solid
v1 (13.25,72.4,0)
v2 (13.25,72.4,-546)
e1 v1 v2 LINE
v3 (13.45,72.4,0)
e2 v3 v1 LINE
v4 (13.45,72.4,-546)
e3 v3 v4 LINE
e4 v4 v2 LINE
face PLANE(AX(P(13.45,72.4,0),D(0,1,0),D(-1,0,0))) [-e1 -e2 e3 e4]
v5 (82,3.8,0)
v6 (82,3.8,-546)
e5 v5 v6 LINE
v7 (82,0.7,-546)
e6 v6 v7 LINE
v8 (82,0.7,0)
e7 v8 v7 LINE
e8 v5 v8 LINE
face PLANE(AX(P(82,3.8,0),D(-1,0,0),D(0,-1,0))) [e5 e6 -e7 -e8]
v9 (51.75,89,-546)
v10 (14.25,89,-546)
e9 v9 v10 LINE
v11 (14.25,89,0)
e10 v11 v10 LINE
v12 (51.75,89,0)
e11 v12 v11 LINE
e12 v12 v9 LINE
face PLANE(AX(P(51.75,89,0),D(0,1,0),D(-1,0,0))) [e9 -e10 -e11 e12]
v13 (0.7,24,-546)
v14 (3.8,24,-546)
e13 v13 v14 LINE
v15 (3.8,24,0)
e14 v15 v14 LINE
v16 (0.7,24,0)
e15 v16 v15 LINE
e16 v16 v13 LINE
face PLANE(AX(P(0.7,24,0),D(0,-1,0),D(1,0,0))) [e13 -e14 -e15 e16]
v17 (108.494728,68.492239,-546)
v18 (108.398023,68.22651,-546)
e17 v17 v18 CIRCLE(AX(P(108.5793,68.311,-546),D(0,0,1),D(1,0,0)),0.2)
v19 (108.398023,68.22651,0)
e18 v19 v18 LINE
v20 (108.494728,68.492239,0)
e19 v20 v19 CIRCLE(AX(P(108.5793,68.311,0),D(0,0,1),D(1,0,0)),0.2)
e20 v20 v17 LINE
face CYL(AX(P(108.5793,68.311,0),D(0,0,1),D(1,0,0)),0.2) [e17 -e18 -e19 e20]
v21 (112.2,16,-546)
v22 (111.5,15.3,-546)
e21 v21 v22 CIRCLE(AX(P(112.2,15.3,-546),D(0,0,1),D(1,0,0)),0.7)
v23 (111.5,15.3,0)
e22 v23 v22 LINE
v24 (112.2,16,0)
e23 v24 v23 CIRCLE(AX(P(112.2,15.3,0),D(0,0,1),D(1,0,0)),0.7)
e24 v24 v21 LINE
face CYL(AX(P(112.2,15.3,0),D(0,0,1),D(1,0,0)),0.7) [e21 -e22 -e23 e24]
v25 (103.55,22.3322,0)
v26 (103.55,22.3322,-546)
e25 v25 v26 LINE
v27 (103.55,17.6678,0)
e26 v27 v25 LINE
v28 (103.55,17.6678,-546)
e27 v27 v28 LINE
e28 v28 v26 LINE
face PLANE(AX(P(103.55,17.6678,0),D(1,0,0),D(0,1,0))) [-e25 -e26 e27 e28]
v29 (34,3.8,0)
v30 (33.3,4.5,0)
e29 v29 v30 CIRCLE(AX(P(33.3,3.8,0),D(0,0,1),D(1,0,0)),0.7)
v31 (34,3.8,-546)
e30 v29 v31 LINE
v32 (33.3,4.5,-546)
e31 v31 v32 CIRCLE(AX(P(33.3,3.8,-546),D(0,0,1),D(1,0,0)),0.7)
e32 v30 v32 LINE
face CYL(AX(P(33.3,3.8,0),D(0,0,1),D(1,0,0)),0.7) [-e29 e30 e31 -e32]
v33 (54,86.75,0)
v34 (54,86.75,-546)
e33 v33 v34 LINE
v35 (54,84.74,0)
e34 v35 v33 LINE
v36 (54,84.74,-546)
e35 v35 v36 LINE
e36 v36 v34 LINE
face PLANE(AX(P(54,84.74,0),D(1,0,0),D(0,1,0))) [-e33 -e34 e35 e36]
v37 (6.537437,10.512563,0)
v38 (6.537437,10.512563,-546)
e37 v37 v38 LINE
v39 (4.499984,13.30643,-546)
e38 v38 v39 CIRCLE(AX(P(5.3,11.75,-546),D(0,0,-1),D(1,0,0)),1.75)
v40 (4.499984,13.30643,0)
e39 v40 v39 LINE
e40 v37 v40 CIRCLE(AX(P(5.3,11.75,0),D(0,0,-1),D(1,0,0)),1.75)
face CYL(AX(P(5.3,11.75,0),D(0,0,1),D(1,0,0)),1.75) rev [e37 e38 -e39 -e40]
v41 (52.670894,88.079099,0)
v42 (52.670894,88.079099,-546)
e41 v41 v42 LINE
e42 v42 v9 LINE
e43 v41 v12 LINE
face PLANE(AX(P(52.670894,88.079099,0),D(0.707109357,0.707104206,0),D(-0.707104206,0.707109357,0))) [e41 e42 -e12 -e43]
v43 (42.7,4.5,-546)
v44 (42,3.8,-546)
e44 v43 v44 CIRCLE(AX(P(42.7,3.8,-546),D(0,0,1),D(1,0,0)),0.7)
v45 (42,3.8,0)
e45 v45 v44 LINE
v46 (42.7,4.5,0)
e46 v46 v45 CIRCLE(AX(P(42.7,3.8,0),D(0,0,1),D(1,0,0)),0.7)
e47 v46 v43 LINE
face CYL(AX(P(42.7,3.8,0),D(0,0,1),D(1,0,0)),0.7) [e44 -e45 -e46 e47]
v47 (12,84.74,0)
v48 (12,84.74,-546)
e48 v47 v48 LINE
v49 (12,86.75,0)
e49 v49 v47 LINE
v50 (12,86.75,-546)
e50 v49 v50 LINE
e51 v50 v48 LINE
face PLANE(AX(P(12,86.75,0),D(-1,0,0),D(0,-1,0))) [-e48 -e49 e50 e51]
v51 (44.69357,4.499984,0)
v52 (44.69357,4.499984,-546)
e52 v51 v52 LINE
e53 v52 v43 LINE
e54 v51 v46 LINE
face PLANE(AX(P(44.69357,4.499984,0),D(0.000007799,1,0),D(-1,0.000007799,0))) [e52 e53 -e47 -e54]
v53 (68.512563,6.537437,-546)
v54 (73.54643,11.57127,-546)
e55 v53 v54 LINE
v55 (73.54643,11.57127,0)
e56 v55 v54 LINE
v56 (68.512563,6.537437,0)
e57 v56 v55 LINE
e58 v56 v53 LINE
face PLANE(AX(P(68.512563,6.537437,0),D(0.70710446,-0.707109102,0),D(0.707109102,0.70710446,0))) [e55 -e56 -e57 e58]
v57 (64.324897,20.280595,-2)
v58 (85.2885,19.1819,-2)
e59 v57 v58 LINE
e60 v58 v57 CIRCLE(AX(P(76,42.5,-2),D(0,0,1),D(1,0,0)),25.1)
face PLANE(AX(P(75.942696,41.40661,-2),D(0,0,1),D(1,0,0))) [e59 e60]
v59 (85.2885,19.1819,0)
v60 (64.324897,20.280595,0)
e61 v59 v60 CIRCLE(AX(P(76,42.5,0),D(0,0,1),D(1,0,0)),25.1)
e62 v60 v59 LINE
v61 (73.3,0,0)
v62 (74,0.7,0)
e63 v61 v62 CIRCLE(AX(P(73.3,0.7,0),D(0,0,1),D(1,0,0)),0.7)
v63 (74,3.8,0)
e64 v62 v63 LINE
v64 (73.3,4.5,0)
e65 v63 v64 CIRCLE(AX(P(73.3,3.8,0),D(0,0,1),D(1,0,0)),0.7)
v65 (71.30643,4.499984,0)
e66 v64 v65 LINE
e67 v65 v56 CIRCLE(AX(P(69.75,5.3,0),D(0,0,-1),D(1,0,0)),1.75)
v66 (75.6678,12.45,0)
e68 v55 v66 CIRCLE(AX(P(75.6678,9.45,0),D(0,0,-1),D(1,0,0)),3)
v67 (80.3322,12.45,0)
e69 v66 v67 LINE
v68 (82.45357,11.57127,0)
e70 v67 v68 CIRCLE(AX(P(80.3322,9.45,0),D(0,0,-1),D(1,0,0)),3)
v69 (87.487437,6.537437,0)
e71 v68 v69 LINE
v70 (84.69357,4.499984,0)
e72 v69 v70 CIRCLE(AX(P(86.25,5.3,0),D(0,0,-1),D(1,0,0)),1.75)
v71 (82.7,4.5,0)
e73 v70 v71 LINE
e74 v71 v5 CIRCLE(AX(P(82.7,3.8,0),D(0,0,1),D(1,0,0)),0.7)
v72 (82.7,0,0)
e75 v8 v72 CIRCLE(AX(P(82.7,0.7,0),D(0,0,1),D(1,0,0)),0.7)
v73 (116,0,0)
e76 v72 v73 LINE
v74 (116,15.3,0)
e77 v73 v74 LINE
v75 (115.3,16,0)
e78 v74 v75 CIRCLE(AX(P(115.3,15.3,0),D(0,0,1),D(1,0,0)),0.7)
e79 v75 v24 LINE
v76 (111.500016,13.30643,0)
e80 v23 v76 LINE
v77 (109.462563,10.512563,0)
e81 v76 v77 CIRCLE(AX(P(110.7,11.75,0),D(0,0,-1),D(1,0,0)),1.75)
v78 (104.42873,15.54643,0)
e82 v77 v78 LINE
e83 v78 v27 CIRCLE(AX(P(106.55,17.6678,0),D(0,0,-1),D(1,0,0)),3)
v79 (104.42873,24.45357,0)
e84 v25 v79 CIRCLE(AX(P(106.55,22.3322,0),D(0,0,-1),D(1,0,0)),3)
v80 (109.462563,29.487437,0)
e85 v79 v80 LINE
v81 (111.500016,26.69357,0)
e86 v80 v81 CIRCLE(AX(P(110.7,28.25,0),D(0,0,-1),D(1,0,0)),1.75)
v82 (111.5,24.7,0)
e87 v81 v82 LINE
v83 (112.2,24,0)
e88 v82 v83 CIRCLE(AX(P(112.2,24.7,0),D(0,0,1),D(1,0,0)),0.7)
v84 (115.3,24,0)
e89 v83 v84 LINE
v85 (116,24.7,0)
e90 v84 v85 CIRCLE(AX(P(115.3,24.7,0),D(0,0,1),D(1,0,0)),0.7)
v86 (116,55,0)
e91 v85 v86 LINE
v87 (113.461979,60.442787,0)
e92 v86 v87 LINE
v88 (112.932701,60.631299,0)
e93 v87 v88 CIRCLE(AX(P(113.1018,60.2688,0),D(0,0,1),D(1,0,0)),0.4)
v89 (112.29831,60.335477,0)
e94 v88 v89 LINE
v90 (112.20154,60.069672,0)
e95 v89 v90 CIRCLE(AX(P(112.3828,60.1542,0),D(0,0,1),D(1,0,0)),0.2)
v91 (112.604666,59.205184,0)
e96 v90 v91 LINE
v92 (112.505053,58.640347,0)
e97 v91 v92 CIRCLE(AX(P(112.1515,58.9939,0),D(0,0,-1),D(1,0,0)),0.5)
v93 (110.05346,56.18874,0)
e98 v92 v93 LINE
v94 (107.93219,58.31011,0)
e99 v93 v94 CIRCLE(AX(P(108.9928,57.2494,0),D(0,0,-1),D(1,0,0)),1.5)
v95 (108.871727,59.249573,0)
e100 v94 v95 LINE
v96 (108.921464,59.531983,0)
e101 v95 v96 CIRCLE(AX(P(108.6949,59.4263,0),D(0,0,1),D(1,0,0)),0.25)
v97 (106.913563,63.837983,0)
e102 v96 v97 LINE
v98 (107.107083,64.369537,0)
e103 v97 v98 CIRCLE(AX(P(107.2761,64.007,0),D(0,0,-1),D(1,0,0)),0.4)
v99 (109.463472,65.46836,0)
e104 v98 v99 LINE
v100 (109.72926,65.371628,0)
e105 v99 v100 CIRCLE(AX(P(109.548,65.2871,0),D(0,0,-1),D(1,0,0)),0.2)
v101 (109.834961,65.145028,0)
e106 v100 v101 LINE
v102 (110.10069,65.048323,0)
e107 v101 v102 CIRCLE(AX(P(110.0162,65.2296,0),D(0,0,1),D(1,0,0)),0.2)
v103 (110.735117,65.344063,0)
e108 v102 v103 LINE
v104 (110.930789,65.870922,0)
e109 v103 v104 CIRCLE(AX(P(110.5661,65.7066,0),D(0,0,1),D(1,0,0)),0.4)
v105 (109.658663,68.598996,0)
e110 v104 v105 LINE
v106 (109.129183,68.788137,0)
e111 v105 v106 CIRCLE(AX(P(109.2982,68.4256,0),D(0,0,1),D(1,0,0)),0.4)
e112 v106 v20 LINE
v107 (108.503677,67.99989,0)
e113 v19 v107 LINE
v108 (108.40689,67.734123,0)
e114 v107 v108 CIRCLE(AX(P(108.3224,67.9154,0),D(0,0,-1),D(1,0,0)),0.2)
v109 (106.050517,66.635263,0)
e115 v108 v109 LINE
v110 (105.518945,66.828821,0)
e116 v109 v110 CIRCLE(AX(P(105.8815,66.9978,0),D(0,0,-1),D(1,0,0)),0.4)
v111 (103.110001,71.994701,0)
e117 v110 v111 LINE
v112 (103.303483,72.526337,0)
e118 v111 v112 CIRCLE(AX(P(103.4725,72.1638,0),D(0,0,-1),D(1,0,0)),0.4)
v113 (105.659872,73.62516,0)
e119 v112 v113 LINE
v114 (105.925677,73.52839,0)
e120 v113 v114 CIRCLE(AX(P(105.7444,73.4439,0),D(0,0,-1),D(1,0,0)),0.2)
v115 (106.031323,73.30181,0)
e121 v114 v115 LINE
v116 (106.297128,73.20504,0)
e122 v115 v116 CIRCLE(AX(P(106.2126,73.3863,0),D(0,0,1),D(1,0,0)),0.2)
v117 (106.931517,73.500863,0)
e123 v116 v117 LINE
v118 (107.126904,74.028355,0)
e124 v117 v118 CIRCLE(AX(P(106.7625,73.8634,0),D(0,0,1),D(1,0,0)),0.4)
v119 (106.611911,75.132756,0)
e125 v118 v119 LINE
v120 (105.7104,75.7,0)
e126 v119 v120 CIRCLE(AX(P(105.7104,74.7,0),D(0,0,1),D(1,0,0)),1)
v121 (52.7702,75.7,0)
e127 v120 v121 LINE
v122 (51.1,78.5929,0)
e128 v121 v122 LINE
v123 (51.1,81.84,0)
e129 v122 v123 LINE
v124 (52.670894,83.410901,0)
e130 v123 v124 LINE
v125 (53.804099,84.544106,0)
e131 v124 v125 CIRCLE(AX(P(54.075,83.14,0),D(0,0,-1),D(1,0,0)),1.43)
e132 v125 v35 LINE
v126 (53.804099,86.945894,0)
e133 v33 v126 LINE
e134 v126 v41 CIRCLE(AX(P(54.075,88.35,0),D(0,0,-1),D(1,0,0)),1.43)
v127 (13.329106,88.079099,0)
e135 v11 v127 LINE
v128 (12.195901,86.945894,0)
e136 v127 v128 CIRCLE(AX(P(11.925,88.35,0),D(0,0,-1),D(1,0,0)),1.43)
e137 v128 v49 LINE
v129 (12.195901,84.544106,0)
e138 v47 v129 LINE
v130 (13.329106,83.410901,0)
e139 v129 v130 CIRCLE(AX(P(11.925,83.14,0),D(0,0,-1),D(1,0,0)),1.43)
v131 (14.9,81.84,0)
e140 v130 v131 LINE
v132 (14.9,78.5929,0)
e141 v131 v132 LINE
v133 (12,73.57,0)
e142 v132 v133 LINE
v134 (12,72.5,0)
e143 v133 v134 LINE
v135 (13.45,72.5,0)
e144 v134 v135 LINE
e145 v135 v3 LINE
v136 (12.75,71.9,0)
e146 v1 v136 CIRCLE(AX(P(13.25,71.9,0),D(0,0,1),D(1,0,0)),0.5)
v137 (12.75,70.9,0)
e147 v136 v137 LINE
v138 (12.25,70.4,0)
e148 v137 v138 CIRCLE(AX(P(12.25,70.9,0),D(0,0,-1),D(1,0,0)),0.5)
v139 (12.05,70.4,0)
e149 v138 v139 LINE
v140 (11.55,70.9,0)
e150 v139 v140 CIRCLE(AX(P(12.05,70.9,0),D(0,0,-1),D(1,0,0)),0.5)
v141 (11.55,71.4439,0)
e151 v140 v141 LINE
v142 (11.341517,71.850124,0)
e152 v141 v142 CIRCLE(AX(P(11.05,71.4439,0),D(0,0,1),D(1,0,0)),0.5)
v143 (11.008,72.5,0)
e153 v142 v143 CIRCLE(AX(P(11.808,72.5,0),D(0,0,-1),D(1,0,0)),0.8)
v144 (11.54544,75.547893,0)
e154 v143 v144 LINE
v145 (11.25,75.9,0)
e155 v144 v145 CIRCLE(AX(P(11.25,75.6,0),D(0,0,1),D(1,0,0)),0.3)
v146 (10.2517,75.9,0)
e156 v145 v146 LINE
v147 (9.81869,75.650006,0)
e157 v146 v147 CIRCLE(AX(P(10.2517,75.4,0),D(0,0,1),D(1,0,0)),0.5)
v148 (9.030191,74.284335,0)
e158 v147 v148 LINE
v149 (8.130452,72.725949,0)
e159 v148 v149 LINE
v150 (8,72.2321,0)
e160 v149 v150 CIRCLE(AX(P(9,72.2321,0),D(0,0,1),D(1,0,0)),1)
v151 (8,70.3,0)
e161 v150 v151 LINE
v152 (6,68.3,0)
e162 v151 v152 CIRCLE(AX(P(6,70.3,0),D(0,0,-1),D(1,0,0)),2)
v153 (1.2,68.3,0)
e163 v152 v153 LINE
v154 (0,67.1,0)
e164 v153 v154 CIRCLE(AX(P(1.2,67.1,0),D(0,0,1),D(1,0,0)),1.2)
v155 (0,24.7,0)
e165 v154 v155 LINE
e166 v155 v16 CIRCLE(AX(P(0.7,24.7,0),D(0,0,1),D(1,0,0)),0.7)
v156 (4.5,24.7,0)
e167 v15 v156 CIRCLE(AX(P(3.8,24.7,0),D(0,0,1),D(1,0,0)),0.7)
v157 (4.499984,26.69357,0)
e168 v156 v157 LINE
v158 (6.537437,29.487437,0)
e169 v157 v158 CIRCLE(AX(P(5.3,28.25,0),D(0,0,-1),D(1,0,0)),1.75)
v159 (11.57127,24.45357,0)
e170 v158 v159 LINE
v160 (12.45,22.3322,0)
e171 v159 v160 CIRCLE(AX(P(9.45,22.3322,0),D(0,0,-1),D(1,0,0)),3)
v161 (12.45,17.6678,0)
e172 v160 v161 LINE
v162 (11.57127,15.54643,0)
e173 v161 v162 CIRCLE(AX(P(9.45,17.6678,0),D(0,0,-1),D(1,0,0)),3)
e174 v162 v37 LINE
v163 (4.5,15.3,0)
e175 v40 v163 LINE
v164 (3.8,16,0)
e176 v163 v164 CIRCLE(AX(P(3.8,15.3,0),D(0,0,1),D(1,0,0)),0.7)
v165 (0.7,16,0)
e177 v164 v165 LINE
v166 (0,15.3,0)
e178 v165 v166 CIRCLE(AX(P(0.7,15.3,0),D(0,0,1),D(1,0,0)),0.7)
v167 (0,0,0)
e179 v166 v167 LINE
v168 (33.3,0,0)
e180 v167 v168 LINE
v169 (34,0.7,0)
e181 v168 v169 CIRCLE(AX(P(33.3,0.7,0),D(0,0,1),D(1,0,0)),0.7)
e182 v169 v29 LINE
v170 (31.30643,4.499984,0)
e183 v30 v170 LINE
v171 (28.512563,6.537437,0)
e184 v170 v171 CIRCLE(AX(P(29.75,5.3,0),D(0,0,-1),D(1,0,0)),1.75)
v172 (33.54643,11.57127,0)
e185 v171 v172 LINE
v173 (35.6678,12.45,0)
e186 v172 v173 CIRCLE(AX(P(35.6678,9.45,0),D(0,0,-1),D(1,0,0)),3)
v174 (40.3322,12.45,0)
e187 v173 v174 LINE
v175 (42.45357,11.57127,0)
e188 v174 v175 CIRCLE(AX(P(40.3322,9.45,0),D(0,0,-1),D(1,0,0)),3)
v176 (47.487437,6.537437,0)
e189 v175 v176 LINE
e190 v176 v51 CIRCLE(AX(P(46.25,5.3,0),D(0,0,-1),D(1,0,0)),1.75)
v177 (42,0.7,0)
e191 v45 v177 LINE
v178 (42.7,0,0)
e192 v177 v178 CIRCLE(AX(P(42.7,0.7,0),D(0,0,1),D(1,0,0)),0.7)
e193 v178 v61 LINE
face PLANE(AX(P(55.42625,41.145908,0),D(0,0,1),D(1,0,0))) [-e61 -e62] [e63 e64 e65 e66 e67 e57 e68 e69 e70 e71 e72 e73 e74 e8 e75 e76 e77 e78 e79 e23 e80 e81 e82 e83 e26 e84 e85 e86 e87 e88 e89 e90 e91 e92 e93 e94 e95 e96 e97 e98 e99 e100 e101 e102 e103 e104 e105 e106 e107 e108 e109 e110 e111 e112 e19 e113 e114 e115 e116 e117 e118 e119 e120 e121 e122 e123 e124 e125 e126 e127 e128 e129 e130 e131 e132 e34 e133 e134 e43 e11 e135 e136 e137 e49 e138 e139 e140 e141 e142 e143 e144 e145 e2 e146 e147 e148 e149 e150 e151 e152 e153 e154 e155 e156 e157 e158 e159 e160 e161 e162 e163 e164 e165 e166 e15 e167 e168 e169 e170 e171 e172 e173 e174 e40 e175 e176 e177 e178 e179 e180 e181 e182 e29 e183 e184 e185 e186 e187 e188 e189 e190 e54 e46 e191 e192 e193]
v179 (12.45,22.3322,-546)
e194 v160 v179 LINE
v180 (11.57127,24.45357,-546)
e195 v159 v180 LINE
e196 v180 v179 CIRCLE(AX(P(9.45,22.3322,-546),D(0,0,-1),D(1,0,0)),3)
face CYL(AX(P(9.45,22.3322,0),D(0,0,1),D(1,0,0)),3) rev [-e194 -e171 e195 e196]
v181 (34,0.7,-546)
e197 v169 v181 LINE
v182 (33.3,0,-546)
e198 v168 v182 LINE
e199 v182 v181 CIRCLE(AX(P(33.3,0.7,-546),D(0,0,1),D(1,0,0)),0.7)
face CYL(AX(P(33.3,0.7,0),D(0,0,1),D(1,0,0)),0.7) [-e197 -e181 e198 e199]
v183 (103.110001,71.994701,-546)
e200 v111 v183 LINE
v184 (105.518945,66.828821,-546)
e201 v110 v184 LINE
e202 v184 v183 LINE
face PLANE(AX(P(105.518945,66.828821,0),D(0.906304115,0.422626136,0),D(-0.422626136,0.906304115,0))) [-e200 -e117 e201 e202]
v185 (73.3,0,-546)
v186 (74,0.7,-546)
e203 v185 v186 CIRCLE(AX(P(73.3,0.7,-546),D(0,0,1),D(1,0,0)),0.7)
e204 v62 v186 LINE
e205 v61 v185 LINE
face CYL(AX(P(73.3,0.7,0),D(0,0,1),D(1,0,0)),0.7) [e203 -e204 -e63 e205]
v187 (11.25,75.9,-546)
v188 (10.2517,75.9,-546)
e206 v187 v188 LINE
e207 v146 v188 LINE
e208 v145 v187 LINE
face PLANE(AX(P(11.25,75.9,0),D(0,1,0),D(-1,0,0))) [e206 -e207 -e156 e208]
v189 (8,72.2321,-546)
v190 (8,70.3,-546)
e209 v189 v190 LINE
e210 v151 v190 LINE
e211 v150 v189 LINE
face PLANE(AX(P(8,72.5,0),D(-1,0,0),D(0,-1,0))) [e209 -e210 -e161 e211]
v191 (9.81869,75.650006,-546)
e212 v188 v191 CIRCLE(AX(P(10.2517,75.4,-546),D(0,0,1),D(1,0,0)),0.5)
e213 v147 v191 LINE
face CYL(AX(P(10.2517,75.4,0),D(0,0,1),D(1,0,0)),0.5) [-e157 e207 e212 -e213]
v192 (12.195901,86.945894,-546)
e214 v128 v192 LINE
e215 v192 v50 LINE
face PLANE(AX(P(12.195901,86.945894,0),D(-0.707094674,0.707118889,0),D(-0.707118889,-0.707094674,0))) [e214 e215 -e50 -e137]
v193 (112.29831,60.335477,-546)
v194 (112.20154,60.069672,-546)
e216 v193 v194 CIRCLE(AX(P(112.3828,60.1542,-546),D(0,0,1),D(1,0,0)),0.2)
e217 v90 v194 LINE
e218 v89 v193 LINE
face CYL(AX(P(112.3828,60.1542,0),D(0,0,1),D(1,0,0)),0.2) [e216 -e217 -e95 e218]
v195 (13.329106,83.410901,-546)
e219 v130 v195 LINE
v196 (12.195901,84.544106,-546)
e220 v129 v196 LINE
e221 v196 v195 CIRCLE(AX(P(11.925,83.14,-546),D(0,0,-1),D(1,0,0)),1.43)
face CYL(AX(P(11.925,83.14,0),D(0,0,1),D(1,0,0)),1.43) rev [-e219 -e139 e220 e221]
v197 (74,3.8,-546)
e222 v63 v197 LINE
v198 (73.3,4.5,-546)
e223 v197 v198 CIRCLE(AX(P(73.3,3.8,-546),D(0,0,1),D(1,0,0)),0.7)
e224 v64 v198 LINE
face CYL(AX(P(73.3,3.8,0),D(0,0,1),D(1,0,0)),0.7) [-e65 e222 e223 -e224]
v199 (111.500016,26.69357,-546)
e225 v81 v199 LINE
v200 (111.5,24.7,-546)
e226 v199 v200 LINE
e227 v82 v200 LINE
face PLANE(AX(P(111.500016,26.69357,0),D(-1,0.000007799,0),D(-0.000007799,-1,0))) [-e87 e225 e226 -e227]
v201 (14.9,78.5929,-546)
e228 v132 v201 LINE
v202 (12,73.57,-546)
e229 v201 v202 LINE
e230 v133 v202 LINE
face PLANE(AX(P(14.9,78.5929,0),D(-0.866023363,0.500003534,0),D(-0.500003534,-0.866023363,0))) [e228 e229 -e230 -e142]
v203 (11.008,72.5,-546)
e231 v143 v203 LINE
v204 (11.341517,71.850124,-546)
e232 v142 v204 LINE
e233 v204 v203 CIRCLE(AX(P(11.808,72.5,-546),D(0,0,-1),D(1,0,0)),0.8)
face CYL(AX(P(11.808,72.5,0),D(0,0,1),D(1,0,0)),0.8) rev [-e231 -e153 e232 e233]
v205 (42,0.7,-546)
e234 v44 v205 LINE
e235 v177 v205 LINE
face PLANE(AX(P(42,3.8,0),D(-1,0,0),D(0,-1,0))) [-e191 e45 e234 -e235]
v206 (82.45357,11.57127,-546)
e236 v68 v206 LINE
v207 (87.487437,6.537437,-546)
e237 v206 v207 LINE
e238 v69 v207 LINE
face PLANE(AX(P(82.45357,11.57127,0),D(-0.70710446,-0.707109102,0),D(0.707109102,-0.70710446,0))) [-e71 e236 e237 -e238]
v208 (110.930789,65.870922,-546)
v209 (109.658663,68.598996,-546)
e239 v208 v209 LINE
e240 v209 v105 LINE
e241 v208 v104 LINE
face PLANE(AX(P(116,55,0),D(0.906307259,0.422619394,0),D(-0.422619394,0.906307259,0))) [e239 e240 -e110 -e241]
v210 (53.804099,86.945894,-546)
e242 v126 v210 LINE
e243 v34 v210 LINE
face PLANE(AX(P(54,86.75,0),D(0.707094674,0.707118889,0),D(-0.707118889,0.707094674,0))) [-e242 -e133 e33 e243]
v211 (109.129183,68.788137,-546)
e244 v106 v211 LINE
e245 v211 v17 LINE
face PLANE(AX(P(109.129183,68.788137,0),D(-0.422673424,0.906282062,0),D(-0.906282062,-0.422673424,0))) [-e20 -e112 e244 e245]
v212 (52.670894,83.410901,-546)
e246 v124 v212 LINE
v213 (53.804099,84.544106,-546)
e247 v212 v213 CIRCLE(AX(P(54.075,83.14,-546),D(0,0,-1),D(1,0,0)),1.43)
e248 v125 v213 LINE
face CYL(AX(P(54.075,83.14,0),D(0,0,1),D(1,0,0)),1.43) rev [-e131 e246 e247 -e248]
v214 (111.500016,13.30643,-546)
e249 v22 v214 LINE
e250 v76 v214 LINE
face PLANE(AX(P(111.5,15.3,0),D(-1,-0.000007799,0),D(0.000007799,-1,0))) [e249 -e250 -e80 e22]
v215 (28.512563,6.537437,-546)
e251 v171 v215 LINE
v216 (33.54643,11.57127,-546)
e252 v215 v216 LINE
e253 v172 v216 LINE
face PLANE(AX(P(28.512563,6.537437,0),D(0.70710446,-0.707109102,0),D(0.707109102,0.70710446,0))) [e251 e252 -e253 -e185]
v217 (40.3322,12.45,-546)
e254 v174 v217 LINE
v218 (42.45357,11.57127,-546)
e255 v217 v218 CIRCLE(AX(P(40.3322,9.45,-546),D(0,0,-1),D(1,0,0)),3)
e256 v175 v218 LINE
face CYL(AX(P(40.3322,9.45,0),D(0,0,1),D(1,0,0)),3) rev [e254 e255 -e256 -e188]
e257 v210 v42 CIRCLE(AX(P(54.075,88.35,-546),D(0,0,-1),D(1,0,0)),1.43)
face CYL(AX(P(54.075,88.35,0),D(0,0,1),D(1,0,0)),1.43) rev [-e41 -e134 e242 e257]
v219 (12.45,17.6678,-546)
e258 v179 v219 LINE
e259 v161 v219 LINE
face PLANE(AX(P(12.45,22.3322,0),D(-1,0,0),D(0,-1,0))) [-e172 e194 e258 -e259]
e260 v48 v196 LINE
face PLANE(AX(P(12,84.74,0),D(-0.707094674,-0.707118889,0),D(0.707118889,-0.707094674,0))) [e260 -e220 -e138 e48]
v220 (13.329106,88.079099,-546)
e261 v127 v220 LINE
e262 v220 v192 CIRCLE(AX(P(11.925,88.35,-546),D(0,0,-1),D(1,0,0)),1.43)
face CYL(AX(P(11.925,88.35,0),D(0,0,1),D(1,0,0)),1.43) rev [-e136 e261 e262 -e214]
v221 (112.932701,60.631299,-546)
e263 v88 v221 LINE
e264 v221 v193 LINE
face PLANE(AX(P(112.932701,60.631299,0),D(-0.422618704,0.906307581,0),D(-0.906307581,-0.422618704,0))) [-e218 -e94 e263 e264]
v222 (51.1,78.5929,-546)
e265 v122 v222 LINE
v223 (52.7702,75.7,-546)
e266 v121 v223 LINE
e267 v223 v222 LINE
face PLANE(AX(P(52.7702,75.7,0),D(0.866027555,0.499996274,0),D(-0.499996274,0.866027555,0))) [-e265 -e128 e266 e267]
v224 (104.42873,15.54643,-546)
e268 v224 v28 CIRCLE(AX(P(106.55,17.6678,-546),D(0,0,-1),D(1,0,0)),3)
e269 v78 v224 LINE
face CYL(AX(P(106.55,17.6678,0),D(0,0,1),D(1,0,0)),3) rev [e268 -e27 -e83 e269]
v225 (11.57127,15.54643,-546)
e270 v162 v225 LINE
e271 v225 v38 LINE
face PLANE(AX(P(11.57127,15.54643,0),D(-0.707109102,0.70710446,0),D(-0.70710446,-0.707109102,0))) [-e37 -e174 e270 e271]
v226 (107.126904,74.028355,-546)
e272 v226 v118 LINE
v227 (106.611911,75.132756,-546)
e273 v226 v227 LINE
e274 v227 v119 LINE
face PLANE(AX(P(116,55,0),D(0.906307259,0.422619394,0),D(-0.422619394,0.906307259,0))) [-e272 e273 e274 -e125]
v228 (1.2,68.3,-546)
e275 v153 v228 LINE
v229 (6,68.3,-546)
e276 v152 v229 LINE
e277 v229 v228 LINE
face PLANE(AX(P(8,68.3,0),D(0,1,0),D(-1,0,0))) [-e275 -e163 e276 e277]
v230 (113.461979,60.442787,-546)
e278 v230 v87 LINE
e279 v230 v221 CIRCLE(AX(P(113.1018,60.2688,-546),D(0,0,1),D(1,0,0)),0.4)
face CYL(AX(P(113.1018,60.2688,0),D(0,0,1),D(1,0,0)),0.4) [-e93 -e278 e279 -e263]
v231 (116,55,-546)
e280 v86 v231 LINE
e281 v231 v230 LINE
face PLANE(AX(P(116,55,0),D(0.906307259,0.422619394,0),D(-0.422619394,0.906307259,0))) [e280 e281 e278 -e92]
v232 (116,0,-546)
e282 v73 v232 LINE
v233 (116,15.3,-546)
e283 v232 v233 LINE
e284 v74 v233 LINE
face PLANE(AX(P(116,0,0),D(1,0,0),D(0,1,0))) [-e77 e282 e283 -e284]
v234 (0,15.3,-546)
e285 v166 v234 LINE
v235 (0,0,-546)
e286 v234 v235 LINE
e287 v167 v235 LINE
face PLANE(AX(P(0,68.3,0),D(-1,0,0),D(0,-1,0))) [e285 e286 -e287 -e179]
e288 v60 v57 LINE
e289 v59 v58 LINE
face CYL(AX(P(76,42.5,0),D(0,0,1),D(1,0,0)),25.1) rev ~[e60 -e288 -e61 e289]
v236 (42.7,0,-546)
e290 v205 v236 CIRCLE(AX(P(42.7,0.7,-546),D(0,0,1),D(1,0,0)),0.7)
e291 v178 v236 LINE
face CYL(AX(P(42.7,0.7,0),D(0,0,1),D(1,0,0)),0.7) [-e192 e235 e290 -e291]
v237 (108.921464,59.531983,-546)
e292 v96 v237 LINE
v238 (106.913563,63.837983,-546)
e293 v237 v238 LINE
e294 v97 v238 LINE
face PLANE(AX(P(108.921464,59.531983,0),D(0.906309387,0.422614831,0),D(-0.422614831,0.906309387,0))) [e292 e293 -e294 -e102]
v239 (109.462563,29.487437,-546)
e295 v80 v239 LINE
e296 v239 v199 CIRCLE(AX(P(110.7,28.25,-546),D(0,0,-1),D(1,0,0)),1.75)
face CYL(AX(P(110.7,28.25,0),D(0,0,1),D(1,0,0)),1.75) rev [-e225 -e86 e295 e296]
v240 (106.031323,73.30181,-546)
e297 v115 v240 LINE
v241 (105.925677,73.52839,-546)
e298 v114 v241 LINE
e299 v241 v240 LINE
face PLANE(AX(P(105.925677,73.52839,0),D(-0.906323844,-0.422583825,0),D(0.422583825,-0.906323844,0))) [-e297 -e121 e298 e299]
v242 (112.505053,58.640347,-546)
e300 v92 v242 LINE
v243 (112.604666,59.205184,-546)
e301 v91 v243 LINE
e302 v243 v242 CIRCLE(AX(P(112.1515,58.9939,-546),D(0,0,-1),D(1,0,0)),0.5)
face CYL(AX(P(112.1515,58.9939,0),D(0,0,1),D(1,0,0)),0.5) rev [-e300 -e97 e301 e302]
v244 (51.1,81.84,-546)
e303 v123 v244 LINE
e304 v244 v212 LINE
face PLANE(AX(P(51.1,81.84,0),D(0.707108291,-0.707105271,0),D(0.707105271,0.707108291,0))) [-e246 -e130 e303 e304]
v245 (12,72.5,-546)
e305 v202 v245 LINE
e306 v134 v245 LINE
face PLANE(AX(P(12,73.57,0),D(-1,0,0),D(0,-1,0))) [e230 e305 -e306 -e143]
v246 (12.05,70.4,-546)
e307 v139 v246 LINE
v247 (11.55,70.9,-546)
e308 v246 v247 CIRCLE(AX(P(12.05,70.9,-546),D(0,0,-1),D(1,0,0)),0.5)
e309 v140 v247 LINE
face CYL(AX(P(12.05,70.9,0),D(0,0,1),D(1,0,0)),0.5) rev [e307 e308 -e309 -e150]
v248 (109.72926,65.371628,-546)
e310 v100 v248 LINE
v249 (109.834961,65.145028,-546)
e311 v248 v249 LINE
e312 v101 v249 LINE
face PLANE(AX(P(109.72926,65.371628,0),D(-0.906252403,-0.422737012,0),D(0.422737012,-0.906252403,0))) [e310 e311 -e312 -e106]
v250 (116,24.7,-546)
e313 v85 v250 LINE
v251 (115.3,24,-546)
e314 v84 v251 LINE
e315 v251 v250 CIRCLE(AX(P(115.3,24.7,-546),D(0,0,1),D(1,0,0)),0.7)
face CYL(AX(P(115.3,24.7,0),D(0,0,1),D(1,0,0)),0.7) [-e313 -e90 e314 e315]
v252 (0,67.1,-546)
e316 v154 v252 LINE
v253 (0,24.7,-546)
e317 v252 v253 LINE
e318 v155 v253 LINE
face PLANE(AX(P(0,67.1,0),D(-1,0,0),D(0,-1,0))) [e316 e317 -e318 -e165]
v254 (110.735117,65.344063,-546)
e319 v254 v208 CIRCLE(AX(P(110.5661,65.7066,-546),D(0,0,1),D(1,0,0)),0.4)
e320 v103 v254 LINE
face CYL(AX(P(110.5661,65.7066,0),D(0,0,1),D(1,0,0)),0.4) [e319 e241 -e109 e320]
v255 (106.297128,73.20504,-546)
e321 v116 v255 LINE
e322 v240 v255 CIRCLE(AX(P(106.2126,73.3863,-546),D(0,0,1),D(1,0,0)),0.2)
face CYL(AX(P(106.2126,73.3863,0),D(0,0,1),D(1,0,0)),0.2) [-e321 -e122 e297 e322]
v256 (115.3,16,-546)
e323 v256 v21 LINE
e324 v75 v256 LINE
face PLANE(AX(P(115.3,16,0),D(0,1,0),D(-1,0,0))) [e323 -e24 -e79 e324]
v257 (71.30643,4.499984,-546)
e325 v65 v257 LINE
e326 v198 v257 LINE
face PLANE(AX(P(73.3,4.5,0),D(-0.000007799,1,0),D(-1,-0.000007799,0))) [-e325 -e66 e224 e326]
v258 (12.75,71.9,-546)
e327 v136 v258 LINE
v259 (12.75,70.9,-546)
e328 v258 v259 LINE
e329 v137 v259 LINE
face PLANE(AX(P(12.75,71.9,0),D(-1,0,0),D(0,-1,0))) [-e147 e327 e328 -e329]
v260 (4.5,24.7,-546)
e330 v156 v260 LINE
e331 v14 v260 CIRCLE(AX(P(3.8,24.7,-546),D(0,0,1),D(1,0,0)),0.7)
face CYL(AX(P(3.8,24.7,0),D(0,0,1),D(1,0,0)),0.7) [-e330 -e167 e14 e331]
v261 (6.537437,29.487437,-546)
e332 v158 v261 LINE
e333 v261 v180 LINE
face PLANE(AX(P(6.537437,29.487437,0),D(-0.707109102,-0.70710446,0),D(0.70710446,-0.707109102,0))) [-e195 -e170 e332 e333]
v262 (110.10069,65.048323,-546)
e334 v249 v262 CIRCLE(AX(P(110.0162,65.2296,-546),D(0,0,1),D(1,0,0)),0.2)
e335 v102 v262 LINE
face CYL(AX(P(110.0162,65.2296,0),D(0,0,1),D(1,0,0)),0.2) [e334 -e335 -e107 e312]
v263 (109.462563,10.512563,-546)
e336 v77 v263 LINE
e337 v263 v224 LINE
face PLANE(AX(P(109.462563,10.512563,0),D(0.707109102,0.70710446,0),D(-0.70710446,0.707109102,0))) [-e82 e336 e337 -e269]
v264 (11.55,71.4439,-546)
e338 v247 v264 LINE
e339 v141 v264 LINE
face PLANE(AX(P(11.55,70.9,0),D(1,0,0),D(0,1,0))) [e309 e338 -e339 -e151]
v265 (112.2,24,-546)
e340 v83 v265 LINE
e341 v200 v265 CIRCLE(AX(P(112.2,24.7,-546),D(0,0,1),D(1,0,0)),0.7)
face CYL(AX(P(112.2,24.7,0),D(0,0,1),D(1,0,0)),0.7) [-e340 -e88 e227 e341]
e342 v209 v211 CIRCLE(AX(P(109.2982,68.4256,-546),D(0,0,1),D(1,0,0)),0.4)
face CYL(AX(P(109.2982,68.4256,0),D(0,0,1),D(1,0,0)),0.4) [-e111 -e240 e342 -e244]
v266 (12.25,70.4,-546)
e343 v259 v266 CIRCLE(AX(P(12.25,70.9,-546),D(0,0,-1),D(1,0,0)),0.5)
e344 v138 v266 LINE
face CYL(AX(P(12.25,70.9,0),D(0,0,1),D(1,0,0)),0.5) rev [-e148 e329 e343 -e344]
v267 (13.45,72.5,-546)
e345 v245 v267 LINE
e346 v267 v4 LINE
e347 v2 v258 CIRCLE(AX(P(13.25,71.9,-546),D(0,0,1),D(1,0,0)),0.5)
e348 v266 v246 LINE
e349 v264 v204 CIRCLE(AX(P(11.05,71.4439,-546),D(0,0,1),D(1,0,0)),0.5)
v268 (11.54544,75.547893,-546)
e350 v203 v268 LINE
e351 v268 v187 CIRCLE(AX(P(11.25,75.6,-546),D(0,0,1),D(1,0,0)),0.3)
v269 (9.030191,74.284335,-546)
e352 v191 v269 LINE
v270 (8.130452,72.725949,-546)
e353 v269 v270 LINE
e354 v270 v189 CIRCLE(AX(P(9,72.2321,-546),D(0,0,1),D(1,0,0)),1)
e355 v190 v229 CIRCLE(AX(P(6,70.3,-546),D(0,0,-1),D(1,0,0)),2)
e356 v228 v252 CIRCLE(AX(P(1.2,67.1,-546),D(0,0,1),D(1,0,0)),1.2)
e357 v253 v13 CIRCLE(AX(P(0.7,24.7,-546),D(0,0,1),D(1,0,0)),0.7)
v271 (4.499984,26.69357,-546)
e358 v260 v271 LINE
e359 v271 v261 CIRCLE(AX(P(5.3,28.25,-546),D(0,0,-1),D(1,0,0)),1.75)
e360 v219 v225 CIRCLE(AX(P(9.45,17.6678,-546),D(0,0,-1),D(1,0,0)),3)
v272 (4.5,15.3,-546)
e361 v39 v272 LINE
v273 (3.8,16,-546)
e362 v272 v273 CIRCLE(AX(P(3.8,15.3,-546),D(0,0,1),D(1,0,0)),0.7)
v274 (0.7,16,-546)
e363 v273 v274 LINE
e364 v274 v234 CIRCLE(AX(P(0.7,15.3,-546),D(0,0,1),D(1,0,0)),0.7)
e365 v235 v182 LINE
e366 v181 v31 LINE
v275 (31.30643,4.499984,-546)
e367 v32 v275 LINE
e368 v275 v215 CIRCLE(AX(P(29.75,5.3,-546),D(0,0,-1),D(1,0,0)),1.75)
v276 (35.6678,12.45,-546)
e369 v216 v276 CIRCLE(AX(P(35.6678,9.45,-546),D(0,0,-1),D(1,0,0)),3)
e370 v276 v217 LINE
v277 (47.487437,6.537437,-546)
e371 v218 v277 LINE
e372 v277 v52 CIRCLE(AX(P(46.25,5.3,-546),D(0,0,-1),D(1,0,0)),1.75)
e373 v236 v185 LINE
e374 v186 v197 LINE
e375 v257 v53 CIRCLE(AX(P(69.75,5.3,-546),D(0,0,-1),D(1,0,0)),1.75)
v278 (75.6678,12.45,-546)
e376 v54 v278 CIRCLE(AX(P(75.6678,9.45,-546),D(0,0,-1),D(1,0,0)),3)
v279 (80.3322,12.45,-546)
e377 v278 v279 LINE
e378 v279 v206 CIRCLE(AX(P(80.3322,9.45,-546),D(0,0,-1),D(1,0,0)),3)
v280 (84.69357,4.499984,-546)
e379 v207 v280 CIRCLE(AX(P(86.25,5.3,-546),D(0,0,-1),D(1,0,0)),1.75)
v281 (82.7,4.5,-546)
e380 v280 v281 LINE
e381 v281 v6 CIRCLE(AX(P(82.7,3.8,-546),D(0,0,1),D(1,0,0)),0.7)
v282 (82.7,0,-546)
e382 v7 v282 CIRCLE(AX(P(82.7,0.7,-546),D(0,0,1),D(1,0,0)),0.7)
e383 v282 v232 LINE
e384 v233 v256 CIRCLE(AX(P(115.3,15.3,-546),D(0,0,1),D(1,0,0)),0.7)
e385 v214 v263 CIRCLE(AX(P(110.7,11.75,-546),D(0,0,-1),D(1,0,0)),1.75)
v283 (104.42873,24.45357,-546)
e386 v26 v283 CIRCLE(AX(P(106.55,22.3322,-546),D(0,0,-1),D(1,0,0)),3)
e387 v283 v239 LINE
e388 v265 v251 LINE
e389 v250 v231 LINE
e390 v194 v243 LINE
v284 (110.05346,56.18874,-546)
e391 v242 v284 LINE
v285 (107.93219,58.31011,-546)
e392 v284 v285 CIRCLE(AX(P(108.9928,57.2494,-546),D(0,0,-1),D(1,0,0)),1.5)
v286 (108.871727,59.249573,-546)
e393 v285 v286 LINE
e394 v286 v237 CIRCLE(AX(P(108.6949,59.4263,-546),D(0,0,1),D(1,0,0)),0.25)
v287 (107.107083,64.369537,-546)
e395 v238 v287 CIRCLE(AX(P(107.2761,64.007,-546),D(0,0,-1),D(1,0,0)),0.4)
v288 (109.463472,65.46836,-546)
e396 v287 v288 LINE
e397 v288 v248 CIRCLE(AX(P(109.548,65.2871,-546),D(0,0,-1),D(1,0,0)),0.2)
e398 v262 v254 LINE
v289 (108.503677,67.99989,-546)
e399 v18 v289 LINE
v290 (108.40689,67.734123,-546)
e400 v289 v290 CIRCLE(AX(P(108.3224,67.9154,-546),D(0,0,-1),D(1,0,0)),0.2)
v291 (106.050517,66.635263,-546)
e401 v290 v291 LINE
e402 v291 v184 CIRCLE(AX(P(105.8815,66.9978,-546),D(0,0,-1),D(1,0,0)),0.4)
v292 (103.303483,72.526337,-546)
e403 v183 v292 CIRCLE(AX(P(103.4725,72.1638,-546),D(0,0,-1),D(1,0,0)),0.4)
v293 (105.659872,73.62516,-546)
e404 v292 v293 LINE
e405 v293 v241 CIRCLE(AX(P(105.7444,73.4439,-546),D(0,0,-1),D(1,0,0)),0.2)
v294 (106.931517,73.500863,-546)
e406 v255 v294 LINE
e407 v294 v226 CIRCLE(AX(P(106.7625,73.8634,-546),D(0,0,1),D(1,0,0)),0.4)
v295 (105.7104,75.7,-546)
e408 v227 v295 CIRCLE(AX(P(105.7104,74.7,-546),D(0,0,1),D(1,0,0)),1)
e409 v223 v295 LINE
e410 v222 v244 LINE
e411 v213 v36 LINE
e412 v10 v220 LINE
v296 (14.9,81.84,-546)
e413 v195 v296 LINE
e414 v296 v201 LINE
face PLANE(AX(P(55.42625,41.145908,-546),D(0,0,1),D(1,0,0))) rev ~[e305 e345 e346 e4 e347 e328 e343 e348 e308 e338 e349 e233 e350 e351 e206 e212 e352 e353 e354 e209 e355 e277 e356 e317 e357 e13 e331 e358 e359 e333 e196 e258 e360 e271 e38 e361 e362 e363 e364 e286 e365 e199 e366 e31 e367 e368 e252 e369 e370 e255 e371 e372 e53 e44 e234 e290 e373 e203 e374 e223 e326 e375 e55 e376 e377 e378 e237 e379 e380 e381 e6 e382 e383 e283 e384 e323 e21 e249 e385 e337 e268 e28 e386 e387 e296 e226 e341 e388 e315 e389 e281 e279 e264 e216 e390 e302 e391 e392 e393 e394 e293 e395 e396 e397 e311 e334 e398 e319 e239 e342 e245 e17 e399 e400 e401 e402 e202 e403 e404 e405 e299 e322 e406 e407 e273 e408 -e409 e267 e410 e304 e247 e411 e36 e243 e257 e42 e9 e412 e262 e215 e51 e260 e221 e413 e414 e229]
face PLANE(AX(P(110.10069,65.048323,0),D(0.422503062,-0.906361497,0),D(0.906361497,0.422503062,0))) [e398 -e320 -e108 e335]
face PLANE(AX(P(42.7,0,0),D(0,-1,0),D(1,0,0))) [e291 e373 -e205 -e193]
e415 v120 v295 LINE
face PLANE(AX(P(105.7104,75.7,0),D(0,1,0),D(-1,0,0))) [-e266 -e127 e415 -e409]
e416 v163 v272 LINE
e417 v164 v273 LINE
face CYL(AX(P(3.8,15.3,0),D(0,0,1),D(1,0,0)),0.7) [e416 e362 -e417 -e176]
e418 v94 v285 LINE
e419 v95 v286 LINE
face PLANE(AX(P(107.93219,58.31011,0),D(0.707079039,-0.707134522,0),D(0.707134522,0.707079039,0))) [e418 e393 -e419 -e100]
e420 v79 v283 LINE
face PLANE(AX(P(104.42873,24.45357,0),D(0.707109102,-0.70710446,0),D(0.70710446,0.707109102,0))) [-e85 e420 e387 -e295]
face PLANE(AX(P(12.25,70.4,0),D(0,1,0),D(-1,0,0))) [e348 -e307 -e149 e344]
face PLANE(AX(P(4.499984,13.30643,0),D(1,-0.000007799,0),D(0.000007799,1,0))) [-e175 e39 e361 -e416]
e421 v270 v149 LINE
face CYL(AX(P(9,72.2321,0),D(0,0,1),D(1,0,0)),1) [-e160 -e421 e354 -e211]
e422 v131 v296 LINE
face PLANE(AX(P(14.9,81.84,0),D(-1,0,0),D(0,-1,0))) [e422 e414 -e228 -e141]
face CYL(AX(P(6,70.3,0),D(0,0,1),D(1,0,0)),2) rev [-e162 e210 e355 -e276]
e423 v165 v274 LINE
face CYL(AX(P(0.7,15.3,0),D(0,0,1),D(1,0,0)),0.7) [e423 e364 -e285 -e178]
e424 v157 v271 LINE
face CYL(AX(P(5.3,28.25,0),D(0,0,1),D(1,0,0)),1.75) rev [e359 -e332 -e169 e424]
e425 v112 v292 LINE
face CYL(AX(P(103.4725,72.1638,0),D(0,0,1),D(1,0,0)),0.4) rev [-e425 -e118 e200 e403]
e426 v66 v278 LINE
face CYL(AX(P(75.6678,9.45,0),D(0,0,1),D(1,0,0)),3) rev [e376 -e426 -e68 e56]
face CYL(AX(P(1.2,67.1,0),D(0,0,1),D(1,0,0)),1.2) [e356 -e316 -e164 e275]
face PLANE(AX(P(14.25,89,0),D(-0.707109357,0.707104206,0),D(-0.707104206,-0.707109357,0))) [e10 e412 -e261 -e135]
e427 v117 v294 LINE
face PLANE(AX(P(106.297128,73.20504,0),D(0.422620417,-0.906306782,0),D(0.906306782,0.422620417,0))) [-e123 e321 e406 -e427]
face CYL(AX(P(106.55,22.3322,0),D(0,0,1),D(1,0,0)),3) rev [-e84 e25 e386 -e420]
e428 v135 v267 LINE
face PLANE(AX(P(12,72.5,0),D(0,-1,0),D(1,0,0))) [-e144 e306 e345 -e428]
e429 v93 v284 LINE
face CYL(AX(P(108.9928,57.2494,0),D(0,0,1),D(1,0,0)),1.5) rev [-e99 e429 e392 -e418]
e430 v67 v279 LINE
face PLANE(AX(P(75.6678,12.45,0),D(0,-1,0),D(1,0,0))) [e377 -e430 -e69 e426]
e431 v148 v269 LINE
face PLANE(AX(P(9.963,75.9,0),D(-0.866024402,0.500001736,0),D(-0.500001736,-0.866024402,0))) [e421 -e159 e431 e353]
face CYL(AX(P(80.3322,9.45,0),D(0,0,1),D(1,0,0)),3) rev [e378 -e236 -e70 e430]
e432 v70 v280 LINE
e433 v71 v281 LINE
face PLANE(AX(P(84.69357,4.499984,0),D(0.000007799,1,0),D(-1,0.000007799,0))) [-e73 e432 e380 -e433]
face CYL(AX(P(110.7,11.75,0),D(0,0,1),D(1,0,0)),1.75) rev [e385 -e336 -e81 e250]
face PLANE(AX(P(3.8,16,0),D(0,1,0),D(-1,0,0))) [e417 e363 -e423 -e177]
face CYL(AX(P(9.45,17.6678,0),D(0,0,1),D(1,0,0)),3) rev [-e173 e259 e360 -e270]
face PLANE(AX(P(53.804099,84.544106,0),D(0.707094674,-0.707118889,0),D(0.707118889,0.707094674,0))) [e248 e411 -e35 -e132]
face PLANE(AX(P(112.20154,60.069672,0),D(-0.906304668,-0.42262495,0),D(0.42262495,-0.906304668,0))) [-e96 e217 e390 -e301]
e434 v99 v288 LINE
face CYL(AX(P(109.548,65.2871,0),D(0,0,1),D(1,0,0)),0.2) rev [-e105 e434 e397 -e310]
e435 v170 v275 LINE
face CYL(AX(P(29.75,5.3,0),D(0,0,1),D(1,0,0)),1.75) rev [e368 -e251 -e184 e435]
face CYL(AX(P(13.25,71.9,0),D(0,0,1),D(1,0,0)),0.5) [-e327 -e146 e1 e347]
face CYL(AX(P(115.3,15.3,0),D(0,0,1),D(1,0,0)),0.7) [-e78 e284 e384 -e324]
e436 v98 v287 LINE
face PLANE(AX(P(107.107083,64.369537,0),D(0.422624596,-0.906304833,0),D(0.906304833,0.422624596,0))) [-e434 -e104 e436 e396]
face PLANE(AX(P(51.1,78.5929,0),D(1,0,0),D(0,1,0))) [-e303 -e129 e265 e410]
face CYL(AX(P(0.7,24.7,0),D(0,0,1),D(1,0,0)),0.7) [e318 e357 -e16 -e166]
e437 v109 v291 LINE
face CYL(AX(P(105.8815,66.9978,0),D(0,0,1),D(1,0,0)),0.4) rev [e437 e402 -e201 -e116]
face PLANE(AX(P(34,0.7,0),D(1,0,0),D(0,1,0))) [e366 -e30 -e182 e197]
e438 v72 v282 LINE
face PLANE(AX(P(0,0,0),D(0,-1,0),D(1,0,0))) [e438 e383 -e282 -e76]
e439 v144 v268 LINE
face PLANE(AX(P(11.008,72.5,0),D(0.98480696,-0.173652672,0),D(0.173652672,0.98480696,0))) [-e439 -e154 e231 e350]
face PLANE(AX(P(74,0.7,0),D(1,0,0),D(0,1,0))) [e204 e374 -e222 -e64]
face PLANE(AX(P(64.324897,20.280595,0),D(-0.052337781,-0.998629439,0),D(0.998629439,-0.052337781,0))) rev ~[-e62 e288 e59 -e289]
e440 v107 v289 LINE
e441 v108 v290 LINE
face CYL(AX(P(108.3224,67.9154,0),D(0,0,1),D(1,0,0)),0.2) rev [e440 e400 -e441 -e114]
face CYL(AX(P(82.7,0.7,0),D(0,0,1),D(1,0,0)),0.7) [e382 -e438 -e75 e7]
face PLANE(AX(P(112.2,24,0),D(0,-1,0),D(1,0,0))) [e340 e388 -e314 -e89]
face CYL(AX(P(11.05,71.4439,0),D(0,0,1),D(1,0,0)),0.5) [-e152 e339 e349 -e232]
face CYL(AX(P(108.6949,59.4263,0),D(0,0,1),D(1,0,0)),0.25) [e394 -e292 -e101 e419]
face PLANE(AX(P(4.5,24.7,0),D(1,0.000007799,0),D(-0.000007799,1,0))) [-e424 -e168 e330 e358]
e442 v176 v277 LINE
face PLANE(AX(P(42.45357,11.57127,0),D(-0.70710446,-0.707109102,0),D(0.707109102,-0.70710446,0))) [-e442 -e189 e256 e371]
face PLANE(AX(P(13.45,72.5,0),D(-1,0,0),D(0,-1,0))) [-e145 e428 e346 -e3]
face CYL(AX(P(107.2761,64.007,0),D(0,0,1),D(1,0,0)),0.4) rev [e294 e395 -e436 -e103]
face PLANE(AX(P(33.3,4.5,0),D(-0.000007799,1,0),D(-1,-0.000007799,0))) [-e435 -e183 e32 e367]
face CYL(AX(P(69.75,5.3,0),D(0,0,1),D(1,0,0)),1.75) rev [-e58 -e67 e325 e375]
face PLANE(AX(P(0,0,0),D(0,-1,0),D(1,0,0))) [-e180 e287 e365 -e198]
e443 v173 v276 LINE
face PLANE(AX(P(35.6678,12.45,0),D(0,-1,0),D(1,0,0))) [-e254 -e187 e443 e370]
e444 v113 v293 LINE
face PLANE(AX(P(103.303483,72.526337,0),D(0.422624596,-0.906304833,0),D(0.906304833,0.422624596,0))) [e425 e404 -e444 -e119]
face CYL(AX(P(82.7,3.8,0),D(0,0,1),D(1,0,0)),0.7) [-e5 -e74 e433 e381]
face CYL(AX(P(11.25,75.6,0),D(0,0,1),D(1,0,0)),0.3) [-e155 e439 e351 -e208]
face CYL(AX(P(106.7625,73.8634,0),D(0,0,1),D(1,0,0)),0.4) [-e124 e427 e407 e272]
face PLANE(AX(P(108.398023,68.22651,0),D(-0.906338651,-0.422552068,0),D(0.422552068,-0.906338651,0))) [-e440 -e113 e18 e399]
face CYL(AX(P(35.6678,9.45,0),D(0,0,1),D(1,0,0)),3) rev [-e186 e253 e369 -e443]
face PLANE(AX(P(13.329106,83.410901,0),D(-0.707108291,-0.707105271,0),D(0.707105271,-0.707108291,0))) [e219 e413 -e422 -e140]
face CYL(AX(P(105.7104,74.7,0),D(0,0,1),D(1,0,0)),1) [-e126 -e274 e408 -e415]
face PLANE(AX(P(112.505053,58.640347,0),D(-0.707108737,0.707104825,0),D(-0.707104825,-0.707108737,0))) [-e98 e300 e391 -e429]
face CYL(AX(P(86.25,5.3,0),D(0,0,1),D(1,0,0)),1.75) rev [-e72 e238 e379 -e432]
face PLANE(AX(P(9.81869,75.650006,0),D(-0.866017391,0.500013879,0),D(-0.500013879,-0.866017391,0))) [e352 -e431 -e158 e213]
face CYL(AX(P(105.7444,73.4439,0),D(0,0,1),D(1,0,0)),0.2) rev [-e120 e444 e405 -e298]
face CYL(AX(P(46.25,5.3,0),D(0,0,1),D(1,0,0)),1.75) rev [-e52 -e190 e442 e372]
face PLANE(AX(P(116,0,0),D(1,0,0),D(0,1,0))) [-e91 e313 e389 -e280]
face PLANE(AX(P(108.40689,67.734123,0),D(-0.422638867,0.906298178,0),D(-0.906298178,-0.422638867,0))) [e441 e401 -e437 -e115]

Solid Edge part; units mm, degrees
sketch "Sketch1" plane through (0, 0, 0) normal (0, 0, 1) x (1, 0, 0)
  line L0 (0, 68.3) -> (0, 0)
  line L1 (0, 0) -> (116, 0)
  line L2 (116, 0) -> (116, 55)
  line L3 (116, 55) -> (106.3474, 75.7)
  line L4 (106.3474, 75.7) -> (54, 75.7)
  line L5 (54, 75.7) -> (54, 89)
  line L6 (54, 89) -> (12, 89)
  line L7 (12, 89) -> (12, 75.9)
  line L8 (12, 75.9) -> (9.963, 75.9)
  line L9 (9.963, 75.9) -> (8, 72.5)
  line L10 (8, 72.5) -> (8, 68.3)
  line L11 (8, 68.3) -> (0, 68.3)
extrude "Protrusion1" add sketch "Sketch1" against normal blind 546
sketch "Sketch2" plane through (0, 0, 0) normal (0, 0, 1) x (1, 0, 0)
  line L0 (-5, 95) -> (-5, -5)
  line L1 (-5, -5) -> (120, -5)
  line L2 (120, -5) -> (120, 95)
  line L3 (120, 95) -> (-5, 95)
  line L4 (0, 15.3) -> (0, 0)
  line L5 (0, 0) -> (33.3, 0)
  arc A0 (33.3, 0) -> (34, 0.7) centre (33.3, 0.7) ccw
  line L6 (34, 0.7) -> (34, 3.8)
  arc A1 (34, 3.8) -> (33.3, 4.5) centre (33.3, 3.8) ccw
  line L7 (33.3, 4.5) -> (31.3064, 4.5)
  arc A2 (31.3064, 4.5) -> (28.5126, 6.5374) centre (29.75, 5.3) cw
  line L8 (28.5126, 6.5374) -> (33.5464, 11.5713)
  arc A3 (33.5464, 11.5713) -> (35.6678, 12.45) centre (35.6678, 9.45) cw
  line L9 (35.6678, 12.45) -> (40.3322, 12.45)
  arc A4 (40.3322, 12.45) -> (42.4536, 11.5713) centre (40.3322, 9.45) cw
  line L10 (42.4536, 11.5713) -> (47.4874, 6.5374)
  arc A5 (47.4874, 6.5374) -> (44.6936, 4.5) centre (46.25, 5.3) cw
  line L11 (44.6936, 4.5) -> (42.7, 4.5)
  arc A6 (42.7, 4.5) -> (42, 3.8) centre (42.7, 3.8) ccw
  line L12 (42, 3.8) -> (42, 0.7)
  arc A7 (42, 0.7) -> (42.7, 0) centre (42.7, 0.7) ccw
  line L13 (42.7, 0) -> (73.3, 0)
  arc A8 (73.3, 0) -> (74, 0.7) centre (73.3, 0.7) ccw
  line L14 (74, 0.7) -> (74, 3.8)
  arc A9 (74, 3.8) -> (73.3, 4.5) centre (73.3, 3.8) ccw
  line L15 (73.3, 4.5) -> (71.3064, 4.5)
  arc A10 (71.3064, 4.5) -> (68.5126, 6.5374) centre (69.75, 5.3) cw
  line L16 (68.5126, 6.5374) -> (73.5464, 11.5713)
  arc A11 (73.5464, 11.5713) -> (75.6678, 12.45) centre (75.6678, 9.45) cw
  line L17 (75.6678, 12.45) -> (80.3322, 12.45)
  arc A12 (80.3322, 12.45) -> (82.4536, 11.5713) centre (80.3322, 9.45) cw
  line L18 (82.4536, 11.5713) -> (87.4874, 6.5374)
  arc A13 (87.4874, 6.5374) -> (84.6936, 4.5) centre (86.25, 5.3) cw
  line L19 (84.6936, 4.5) -> (82.7, 4.5)
  arc A14 (82.7, 4.5) -> (82, 3.8) centre (82.7, 3.8) ccw
  line L20 (82, 3.8) -> (82, 0.7)
  arc A15 (82, 0.7) -> (82.7, 0) centre (82.7, 0.7) ccw
  line L21 (82.7, 0) -> (116, 0)
  line L22 (116, 0) -> (116, 15.3)
  arc A16 (116, 15.3) -> (115.3, 16) centre (115.3, 15.3) ccw
  line L23 (115.3, 16) -> (112.2, 16)
  arc A17 (112.2, 16) -> (111.5, 15.3) centre (112.2, 15.3) ccw
  line L24 (111.5, 15.3) -> (111.5, 13.3064)
  arc A18 (111.5, 13.3064) -> (109.4626, 10.5126) centre (110.7, 11.75) cw
  line L25 (109.4626, 10.5126) -> (104.4287, 15.5464)
  arc A19 (104.4287, 15.5464) -> (103.55, 17.6678) centre (106.55, 17.6678) cw
  line L26 (103.55, 17.6678) -> (103.55, 22.3322)
  arc A20 (103.55, 22.3322) -> (104.4287, 24.4536) centre (106.55, 22.3322) cw
  line L27 (104.4287, 24.4536) -> (109.4626, 29.4874)
  arc A21 (109.4626, 29.4874) -> (111.5, 26.6936) centre (110.7, 28.25) cw
  line L28 (111.5, 26.6936) -> (111.5, 24.7)
  arc A22 (111.5, 24.7) -> (112.2, 24) centre (112.2, 24.7) ccw
  line L29 (112.2, 24) -> (115.3, 24)
  arc A23 (115.3, 24) -> (116, 24.7) centre (115.3, 24.7) ccw
  line L30 (116, 24.7) -> (116, 55)
  line L31 (116, 55) -> (113.4643, 60.4378)
  arc A24 (113.4643, 60.4378) -> (112.9327, 60.6313) centre (113.1018, 60.2688) ccw
  line L32 (112.9327, 60.6313) -> (112.2983, 60.3355)
  arc A25 (112.2983, 60.3355) -> (112.2016, 60.0697) centre (112.3828, 60.1542) ccw
  line L33 (112.2016, 60.0697) -> (112.6047, 59.2052)
  arc A26 (112.6047, 59.2052) -> (112.5051, 58.6403) centre (112.1515, 58.9939) cw
  line L34 (112.5051, 58.6403) -> (110.0535, 56.1887)
  arc A27 (110.0535, 56.1887) -> (107.9322, 58.3101) centre (108.9928, 57.2494) cw
  line L35 (107.9322, 58.3101) -> (108.8717, 59.2496)
  arc A28 (108.8717, 59.2496) -> (108.9215, 59.532) centre (108.6949, 59.4263) ccw
  line L36 (108.9215, 59.532) -> (106.9136, 63.838)
  arc A29 (106.9136, 63.838) -> (107.1071, 64.3695) centre (107.2761, 64.007) cw
  line L37 (107.1071, 64.3695) -> (109.4635, 65.4683)
  arc A30 (109.4635, 65.4683) -> (109.7292, 65.3716) centre (109.548, 65.2871) cw
  line L38 (109.7292, 65.3716) -> (109.8349, 65.145)
  arc A31 (109.8349, 65.145) -> (110.1007, 65.0483) centre (110.0162, 65.2296) ccw
  line L39 (110.1007, 65.0483) -> (110.7351, 65.3441)
  arc A32 (110.7351, 65.3441) -> (110.9286, 65.8757) centre (110.5661, 65.7066) ccw
  line L40 (110.9286, 65.8757) -> (109.6607, 68.5946)
  arc A33 (109.6607, 68.5946) -> (109.1292, 68.7881) centre (109.2982, 68.4256) ccw
  line L41 (109.1292, 68.7881) -> (108.4947, 68.4923)
  arc A34 (108.4947, 68.4923) -> (108.398, 68.2265) centre (108.5793, 68.311) ccw
  line L42 (108.398, 68.2265) -> (108.5037, 67.9999)
  arc A35 (108.5037, 67.9999) -> (108.4069, 67.7341) centre (108.3224, 67.9154) cw
  line L43 (108.4069, 67.7341) -> (106.0505, 66.6353)
  arc A36 (106.0505, 66.6353) -> (105.5189, 66.8288) centre (105.8815, 66.9978) cw
  line L44 (105.5189, 66.8288) -> (103.11, 71.9947)
  arc A37 (103.11, 71.9947) -> (103.3035, 72.5263) centre (103.4725, 72.1638) cw
  line L45 (103.3035, 72.5263) -> (105.6599, 73.6251)
  arc A38 (105.6599, 73.6251) -> (105.9257, 73.5284) centre (105.7444, 73.4439) cw
  line L46 (105.9257, 73.5284) -> (106.0313, 73.3018)
  arc A39 (106.0313, 73.3018) -> (106.2971, 73.2051) centre (106.2126, 73.3863) ccw
  line L47 (106.2971, 73.2051) -> (106.9315, 73.5009)
  arc A40 (106.9315, 73.5009) -> (107.125, 74.0325) centre (106.7625, 73.8634) ccw
  line L48 (107.125, 74.0325) -> (106.6167, 75.1226)
  arc A41 (106.6167, 75.1226) -> (105.7104, 75.7) centre (105.7104, 74.7) ccw
  line L49 (105.7104, 75.7) -> (52.7702, 75.7)
  line L50 (52.7702, 75.7) -> (51.1, 78.5929)
  line L51 (51.1, 78.5929) -> (51.1, 81.84)
  line L52 (51.1, 81.84) -> (52.6709, 83.4109)
  arc A42 (52.6709, 83.4109) -> (53.8041, 84.5441) centre (54.075, 83.14) cw
  line L53 (53.8041, 84.5441) -> (54, 84.74)
  line L54 (54, 84.74) -> (54, 86.75)
  line L55 (54, 86.75) -> (53.8041, 86.9459)
  arc A43 (53.8041, 86.9459) -> (52.6709, 88.0791) centre (54.075, 88.35) cw
  line L56 (52.6709, 88.0791) -> (51.75, 89)
  line L57 (51.75, 89) -> (14.25, 89)
  line L58 (14.25, 89) -> (13.3291, 88.0791)
  arc A44 (13.3291, 88.0791) -> (12.1959, 86.9459) centre (11.925, 88.35) cw
  line L59 (12.1959, 86.9459) -> (12, 86.75)
  line L60 (12, 86.75) -> (12, 84.74)
  line L61 (12, 84.74) -> (12.1959, 84.5441)
  arc A45 (12.1959, 84.5441) -> (13.3291, 83.4109) centre (11.925, 83.14) cw
  line L62 (13.3291, 83.4109) -> (14.9, 81.84)
  line L63 (14.9, 81.84) -> (14.9, 78.5929)
  line L64 (14.9, 78.5929) -> (12, 73.57)
  line L65 (12, 73.57) -> (12, 72.5)
  line L66 (12, 72.5) -> (13.45, 72.5)
  line L67 (13.45, 72.5) -> (13.45, 72.4)
  line L68 (13.45, 72.4) -> (13.25, 72.4)
  arc A46 (13.25, 72.4) -> (12.75, 71.9) centre (13.25, 71.9) ccw
  line L69 (12.75, 71.9) -> (12.75, 70.9)
  arc A47 (12.75, 70.9) -> (12.25, 70.4) centre (12.25, 70.9) cw
  line L70 (12.25, 70.4) -> (12.05, 70.4)
  arc A48 (12.05, 70.4) -> (11.55, 70.9) centre (12.05, 70.9) cw
  line L71 (11.55, 70.9) -> (11.55, 71.4439)
  arc A49 (11.55, 71.4439) -> (11.3415, 71.8501) centre (11.05, 71.4439) ccw
  arc A50 (11.3415, 71.8501) -> (11.008, 72.5) centre (11.808, 72.5) cw
  line L72 (11.008, 72.5) -> (11.5454, 75.5479)
  arc A51 (11.5454, 75.5479) -> (11.25, 75.9) centre (11.25, 75.6) ccw
  line L73 (11.25, 75.9) -> (10.2517, 75.9)
  arc A52 (10.2517, 75.9) -> (9.8187, 75.65) centre (10.2517, 75.4) ccw
  line L74 (9.8187, 75.65) -> (8.134, 72.7321)
  arc A53 (8.134, 72.7321) -> (8, 72.2321) centre (9, 72.2321) ccw
  line L75 (8, 72.2321) -> (8, 68.3)
  line L76 (8, 68.3) -> (1.2, 68.3)
  arc A54 (1.2, 68.3) -> (0, 67.1) centre (1.2, 67.1) ccw
  line L77 (0, 67.1) -> (0, 24.7)
  arc A55 (0, 24.7) -> (0.7, 24) centre (0.7, 24.7) ccw
  line L78 (0.7, 24) -> (3.8, 24)
  arc A56 (3.8, 24) -> (4.5, 24.7) centre (3.8, 24.7) ccw
  line L79 (4.5, 24.7) -> (4.5, 26.6936)
  arc A57 (4.5, 26.6936) -> (6.5374, 29.4874) centre (5.3, 28.25) cw
  line L80 (6.5374, 29.4874) -> (11.5713, 24.4536)
  arc A58 (11.5713, 24.4536) -> (12.45, 22.3322) centre (9.45, 22.3322) cw
  line L81 (12.45, 22.3322) -> (12.45, 17.6678)
  arc A59 (12.45, 17.6678) -> (11.5713, 15.5464) centre (9.45, 17.6678) cw
  line L82 (11.5713, 15.5464) -> (6.5374, 10.5126)
  arc A60 (6.5374, 10.5126) -> (4.5, 13.3064) centre (5.3, 11.75) cw
  line L83 (4.5, 13.3064) -> (4.5, 15.3)
  arc A61 (4.5, 15.3) -> (3.8, 16) centre (3.8, 15.3) ccw
  line L84 (3.8, 16) -> (0.7, 16)
  arc A62 (0.7, 16) -> (0, 15.3) centre (0.7, 15.3) ccw
extrude "ExtrudedCutout_1" cut sketch "Sketch2" against normal blind 546
sketch "Sketch3" plane through (0, 0, 0) normal (0, 0, 1) x (1, 0, 0)
  line L0 (6, 68.3) -> (6, 67.3)
  line L1 (6, 67.3) -> (9, 67.3)
  line L2 (9, 67.3) -> (9, 70.3)
  line L3 (9, 70.3) -> (8, 70.3)
  arc A0 (8, 70.3) -> (6, 68.3) centre (6, 70.3) cw
extrude "ExtrudedProtrusion_2" add sketch "Sketch3" against normal blind 546
sketch "Sketch4" plane through (0, 0, 0) normal (0, 0, 1) x (1, 0, 0)
  arc A0 (85.2885, 19.1819) -> (64.3249, 20.2806) centre (76, 42.5) ccw
  line L0 (64.3249, 20.2806) -> (85.2885, 19.1819)
extrude "ExtrudedCutout_2" cut sketch "Sketch4" against normal blind 2
properties part number "EGC-120-BS546123GK0--0-ML--0_0_R0L22000"
